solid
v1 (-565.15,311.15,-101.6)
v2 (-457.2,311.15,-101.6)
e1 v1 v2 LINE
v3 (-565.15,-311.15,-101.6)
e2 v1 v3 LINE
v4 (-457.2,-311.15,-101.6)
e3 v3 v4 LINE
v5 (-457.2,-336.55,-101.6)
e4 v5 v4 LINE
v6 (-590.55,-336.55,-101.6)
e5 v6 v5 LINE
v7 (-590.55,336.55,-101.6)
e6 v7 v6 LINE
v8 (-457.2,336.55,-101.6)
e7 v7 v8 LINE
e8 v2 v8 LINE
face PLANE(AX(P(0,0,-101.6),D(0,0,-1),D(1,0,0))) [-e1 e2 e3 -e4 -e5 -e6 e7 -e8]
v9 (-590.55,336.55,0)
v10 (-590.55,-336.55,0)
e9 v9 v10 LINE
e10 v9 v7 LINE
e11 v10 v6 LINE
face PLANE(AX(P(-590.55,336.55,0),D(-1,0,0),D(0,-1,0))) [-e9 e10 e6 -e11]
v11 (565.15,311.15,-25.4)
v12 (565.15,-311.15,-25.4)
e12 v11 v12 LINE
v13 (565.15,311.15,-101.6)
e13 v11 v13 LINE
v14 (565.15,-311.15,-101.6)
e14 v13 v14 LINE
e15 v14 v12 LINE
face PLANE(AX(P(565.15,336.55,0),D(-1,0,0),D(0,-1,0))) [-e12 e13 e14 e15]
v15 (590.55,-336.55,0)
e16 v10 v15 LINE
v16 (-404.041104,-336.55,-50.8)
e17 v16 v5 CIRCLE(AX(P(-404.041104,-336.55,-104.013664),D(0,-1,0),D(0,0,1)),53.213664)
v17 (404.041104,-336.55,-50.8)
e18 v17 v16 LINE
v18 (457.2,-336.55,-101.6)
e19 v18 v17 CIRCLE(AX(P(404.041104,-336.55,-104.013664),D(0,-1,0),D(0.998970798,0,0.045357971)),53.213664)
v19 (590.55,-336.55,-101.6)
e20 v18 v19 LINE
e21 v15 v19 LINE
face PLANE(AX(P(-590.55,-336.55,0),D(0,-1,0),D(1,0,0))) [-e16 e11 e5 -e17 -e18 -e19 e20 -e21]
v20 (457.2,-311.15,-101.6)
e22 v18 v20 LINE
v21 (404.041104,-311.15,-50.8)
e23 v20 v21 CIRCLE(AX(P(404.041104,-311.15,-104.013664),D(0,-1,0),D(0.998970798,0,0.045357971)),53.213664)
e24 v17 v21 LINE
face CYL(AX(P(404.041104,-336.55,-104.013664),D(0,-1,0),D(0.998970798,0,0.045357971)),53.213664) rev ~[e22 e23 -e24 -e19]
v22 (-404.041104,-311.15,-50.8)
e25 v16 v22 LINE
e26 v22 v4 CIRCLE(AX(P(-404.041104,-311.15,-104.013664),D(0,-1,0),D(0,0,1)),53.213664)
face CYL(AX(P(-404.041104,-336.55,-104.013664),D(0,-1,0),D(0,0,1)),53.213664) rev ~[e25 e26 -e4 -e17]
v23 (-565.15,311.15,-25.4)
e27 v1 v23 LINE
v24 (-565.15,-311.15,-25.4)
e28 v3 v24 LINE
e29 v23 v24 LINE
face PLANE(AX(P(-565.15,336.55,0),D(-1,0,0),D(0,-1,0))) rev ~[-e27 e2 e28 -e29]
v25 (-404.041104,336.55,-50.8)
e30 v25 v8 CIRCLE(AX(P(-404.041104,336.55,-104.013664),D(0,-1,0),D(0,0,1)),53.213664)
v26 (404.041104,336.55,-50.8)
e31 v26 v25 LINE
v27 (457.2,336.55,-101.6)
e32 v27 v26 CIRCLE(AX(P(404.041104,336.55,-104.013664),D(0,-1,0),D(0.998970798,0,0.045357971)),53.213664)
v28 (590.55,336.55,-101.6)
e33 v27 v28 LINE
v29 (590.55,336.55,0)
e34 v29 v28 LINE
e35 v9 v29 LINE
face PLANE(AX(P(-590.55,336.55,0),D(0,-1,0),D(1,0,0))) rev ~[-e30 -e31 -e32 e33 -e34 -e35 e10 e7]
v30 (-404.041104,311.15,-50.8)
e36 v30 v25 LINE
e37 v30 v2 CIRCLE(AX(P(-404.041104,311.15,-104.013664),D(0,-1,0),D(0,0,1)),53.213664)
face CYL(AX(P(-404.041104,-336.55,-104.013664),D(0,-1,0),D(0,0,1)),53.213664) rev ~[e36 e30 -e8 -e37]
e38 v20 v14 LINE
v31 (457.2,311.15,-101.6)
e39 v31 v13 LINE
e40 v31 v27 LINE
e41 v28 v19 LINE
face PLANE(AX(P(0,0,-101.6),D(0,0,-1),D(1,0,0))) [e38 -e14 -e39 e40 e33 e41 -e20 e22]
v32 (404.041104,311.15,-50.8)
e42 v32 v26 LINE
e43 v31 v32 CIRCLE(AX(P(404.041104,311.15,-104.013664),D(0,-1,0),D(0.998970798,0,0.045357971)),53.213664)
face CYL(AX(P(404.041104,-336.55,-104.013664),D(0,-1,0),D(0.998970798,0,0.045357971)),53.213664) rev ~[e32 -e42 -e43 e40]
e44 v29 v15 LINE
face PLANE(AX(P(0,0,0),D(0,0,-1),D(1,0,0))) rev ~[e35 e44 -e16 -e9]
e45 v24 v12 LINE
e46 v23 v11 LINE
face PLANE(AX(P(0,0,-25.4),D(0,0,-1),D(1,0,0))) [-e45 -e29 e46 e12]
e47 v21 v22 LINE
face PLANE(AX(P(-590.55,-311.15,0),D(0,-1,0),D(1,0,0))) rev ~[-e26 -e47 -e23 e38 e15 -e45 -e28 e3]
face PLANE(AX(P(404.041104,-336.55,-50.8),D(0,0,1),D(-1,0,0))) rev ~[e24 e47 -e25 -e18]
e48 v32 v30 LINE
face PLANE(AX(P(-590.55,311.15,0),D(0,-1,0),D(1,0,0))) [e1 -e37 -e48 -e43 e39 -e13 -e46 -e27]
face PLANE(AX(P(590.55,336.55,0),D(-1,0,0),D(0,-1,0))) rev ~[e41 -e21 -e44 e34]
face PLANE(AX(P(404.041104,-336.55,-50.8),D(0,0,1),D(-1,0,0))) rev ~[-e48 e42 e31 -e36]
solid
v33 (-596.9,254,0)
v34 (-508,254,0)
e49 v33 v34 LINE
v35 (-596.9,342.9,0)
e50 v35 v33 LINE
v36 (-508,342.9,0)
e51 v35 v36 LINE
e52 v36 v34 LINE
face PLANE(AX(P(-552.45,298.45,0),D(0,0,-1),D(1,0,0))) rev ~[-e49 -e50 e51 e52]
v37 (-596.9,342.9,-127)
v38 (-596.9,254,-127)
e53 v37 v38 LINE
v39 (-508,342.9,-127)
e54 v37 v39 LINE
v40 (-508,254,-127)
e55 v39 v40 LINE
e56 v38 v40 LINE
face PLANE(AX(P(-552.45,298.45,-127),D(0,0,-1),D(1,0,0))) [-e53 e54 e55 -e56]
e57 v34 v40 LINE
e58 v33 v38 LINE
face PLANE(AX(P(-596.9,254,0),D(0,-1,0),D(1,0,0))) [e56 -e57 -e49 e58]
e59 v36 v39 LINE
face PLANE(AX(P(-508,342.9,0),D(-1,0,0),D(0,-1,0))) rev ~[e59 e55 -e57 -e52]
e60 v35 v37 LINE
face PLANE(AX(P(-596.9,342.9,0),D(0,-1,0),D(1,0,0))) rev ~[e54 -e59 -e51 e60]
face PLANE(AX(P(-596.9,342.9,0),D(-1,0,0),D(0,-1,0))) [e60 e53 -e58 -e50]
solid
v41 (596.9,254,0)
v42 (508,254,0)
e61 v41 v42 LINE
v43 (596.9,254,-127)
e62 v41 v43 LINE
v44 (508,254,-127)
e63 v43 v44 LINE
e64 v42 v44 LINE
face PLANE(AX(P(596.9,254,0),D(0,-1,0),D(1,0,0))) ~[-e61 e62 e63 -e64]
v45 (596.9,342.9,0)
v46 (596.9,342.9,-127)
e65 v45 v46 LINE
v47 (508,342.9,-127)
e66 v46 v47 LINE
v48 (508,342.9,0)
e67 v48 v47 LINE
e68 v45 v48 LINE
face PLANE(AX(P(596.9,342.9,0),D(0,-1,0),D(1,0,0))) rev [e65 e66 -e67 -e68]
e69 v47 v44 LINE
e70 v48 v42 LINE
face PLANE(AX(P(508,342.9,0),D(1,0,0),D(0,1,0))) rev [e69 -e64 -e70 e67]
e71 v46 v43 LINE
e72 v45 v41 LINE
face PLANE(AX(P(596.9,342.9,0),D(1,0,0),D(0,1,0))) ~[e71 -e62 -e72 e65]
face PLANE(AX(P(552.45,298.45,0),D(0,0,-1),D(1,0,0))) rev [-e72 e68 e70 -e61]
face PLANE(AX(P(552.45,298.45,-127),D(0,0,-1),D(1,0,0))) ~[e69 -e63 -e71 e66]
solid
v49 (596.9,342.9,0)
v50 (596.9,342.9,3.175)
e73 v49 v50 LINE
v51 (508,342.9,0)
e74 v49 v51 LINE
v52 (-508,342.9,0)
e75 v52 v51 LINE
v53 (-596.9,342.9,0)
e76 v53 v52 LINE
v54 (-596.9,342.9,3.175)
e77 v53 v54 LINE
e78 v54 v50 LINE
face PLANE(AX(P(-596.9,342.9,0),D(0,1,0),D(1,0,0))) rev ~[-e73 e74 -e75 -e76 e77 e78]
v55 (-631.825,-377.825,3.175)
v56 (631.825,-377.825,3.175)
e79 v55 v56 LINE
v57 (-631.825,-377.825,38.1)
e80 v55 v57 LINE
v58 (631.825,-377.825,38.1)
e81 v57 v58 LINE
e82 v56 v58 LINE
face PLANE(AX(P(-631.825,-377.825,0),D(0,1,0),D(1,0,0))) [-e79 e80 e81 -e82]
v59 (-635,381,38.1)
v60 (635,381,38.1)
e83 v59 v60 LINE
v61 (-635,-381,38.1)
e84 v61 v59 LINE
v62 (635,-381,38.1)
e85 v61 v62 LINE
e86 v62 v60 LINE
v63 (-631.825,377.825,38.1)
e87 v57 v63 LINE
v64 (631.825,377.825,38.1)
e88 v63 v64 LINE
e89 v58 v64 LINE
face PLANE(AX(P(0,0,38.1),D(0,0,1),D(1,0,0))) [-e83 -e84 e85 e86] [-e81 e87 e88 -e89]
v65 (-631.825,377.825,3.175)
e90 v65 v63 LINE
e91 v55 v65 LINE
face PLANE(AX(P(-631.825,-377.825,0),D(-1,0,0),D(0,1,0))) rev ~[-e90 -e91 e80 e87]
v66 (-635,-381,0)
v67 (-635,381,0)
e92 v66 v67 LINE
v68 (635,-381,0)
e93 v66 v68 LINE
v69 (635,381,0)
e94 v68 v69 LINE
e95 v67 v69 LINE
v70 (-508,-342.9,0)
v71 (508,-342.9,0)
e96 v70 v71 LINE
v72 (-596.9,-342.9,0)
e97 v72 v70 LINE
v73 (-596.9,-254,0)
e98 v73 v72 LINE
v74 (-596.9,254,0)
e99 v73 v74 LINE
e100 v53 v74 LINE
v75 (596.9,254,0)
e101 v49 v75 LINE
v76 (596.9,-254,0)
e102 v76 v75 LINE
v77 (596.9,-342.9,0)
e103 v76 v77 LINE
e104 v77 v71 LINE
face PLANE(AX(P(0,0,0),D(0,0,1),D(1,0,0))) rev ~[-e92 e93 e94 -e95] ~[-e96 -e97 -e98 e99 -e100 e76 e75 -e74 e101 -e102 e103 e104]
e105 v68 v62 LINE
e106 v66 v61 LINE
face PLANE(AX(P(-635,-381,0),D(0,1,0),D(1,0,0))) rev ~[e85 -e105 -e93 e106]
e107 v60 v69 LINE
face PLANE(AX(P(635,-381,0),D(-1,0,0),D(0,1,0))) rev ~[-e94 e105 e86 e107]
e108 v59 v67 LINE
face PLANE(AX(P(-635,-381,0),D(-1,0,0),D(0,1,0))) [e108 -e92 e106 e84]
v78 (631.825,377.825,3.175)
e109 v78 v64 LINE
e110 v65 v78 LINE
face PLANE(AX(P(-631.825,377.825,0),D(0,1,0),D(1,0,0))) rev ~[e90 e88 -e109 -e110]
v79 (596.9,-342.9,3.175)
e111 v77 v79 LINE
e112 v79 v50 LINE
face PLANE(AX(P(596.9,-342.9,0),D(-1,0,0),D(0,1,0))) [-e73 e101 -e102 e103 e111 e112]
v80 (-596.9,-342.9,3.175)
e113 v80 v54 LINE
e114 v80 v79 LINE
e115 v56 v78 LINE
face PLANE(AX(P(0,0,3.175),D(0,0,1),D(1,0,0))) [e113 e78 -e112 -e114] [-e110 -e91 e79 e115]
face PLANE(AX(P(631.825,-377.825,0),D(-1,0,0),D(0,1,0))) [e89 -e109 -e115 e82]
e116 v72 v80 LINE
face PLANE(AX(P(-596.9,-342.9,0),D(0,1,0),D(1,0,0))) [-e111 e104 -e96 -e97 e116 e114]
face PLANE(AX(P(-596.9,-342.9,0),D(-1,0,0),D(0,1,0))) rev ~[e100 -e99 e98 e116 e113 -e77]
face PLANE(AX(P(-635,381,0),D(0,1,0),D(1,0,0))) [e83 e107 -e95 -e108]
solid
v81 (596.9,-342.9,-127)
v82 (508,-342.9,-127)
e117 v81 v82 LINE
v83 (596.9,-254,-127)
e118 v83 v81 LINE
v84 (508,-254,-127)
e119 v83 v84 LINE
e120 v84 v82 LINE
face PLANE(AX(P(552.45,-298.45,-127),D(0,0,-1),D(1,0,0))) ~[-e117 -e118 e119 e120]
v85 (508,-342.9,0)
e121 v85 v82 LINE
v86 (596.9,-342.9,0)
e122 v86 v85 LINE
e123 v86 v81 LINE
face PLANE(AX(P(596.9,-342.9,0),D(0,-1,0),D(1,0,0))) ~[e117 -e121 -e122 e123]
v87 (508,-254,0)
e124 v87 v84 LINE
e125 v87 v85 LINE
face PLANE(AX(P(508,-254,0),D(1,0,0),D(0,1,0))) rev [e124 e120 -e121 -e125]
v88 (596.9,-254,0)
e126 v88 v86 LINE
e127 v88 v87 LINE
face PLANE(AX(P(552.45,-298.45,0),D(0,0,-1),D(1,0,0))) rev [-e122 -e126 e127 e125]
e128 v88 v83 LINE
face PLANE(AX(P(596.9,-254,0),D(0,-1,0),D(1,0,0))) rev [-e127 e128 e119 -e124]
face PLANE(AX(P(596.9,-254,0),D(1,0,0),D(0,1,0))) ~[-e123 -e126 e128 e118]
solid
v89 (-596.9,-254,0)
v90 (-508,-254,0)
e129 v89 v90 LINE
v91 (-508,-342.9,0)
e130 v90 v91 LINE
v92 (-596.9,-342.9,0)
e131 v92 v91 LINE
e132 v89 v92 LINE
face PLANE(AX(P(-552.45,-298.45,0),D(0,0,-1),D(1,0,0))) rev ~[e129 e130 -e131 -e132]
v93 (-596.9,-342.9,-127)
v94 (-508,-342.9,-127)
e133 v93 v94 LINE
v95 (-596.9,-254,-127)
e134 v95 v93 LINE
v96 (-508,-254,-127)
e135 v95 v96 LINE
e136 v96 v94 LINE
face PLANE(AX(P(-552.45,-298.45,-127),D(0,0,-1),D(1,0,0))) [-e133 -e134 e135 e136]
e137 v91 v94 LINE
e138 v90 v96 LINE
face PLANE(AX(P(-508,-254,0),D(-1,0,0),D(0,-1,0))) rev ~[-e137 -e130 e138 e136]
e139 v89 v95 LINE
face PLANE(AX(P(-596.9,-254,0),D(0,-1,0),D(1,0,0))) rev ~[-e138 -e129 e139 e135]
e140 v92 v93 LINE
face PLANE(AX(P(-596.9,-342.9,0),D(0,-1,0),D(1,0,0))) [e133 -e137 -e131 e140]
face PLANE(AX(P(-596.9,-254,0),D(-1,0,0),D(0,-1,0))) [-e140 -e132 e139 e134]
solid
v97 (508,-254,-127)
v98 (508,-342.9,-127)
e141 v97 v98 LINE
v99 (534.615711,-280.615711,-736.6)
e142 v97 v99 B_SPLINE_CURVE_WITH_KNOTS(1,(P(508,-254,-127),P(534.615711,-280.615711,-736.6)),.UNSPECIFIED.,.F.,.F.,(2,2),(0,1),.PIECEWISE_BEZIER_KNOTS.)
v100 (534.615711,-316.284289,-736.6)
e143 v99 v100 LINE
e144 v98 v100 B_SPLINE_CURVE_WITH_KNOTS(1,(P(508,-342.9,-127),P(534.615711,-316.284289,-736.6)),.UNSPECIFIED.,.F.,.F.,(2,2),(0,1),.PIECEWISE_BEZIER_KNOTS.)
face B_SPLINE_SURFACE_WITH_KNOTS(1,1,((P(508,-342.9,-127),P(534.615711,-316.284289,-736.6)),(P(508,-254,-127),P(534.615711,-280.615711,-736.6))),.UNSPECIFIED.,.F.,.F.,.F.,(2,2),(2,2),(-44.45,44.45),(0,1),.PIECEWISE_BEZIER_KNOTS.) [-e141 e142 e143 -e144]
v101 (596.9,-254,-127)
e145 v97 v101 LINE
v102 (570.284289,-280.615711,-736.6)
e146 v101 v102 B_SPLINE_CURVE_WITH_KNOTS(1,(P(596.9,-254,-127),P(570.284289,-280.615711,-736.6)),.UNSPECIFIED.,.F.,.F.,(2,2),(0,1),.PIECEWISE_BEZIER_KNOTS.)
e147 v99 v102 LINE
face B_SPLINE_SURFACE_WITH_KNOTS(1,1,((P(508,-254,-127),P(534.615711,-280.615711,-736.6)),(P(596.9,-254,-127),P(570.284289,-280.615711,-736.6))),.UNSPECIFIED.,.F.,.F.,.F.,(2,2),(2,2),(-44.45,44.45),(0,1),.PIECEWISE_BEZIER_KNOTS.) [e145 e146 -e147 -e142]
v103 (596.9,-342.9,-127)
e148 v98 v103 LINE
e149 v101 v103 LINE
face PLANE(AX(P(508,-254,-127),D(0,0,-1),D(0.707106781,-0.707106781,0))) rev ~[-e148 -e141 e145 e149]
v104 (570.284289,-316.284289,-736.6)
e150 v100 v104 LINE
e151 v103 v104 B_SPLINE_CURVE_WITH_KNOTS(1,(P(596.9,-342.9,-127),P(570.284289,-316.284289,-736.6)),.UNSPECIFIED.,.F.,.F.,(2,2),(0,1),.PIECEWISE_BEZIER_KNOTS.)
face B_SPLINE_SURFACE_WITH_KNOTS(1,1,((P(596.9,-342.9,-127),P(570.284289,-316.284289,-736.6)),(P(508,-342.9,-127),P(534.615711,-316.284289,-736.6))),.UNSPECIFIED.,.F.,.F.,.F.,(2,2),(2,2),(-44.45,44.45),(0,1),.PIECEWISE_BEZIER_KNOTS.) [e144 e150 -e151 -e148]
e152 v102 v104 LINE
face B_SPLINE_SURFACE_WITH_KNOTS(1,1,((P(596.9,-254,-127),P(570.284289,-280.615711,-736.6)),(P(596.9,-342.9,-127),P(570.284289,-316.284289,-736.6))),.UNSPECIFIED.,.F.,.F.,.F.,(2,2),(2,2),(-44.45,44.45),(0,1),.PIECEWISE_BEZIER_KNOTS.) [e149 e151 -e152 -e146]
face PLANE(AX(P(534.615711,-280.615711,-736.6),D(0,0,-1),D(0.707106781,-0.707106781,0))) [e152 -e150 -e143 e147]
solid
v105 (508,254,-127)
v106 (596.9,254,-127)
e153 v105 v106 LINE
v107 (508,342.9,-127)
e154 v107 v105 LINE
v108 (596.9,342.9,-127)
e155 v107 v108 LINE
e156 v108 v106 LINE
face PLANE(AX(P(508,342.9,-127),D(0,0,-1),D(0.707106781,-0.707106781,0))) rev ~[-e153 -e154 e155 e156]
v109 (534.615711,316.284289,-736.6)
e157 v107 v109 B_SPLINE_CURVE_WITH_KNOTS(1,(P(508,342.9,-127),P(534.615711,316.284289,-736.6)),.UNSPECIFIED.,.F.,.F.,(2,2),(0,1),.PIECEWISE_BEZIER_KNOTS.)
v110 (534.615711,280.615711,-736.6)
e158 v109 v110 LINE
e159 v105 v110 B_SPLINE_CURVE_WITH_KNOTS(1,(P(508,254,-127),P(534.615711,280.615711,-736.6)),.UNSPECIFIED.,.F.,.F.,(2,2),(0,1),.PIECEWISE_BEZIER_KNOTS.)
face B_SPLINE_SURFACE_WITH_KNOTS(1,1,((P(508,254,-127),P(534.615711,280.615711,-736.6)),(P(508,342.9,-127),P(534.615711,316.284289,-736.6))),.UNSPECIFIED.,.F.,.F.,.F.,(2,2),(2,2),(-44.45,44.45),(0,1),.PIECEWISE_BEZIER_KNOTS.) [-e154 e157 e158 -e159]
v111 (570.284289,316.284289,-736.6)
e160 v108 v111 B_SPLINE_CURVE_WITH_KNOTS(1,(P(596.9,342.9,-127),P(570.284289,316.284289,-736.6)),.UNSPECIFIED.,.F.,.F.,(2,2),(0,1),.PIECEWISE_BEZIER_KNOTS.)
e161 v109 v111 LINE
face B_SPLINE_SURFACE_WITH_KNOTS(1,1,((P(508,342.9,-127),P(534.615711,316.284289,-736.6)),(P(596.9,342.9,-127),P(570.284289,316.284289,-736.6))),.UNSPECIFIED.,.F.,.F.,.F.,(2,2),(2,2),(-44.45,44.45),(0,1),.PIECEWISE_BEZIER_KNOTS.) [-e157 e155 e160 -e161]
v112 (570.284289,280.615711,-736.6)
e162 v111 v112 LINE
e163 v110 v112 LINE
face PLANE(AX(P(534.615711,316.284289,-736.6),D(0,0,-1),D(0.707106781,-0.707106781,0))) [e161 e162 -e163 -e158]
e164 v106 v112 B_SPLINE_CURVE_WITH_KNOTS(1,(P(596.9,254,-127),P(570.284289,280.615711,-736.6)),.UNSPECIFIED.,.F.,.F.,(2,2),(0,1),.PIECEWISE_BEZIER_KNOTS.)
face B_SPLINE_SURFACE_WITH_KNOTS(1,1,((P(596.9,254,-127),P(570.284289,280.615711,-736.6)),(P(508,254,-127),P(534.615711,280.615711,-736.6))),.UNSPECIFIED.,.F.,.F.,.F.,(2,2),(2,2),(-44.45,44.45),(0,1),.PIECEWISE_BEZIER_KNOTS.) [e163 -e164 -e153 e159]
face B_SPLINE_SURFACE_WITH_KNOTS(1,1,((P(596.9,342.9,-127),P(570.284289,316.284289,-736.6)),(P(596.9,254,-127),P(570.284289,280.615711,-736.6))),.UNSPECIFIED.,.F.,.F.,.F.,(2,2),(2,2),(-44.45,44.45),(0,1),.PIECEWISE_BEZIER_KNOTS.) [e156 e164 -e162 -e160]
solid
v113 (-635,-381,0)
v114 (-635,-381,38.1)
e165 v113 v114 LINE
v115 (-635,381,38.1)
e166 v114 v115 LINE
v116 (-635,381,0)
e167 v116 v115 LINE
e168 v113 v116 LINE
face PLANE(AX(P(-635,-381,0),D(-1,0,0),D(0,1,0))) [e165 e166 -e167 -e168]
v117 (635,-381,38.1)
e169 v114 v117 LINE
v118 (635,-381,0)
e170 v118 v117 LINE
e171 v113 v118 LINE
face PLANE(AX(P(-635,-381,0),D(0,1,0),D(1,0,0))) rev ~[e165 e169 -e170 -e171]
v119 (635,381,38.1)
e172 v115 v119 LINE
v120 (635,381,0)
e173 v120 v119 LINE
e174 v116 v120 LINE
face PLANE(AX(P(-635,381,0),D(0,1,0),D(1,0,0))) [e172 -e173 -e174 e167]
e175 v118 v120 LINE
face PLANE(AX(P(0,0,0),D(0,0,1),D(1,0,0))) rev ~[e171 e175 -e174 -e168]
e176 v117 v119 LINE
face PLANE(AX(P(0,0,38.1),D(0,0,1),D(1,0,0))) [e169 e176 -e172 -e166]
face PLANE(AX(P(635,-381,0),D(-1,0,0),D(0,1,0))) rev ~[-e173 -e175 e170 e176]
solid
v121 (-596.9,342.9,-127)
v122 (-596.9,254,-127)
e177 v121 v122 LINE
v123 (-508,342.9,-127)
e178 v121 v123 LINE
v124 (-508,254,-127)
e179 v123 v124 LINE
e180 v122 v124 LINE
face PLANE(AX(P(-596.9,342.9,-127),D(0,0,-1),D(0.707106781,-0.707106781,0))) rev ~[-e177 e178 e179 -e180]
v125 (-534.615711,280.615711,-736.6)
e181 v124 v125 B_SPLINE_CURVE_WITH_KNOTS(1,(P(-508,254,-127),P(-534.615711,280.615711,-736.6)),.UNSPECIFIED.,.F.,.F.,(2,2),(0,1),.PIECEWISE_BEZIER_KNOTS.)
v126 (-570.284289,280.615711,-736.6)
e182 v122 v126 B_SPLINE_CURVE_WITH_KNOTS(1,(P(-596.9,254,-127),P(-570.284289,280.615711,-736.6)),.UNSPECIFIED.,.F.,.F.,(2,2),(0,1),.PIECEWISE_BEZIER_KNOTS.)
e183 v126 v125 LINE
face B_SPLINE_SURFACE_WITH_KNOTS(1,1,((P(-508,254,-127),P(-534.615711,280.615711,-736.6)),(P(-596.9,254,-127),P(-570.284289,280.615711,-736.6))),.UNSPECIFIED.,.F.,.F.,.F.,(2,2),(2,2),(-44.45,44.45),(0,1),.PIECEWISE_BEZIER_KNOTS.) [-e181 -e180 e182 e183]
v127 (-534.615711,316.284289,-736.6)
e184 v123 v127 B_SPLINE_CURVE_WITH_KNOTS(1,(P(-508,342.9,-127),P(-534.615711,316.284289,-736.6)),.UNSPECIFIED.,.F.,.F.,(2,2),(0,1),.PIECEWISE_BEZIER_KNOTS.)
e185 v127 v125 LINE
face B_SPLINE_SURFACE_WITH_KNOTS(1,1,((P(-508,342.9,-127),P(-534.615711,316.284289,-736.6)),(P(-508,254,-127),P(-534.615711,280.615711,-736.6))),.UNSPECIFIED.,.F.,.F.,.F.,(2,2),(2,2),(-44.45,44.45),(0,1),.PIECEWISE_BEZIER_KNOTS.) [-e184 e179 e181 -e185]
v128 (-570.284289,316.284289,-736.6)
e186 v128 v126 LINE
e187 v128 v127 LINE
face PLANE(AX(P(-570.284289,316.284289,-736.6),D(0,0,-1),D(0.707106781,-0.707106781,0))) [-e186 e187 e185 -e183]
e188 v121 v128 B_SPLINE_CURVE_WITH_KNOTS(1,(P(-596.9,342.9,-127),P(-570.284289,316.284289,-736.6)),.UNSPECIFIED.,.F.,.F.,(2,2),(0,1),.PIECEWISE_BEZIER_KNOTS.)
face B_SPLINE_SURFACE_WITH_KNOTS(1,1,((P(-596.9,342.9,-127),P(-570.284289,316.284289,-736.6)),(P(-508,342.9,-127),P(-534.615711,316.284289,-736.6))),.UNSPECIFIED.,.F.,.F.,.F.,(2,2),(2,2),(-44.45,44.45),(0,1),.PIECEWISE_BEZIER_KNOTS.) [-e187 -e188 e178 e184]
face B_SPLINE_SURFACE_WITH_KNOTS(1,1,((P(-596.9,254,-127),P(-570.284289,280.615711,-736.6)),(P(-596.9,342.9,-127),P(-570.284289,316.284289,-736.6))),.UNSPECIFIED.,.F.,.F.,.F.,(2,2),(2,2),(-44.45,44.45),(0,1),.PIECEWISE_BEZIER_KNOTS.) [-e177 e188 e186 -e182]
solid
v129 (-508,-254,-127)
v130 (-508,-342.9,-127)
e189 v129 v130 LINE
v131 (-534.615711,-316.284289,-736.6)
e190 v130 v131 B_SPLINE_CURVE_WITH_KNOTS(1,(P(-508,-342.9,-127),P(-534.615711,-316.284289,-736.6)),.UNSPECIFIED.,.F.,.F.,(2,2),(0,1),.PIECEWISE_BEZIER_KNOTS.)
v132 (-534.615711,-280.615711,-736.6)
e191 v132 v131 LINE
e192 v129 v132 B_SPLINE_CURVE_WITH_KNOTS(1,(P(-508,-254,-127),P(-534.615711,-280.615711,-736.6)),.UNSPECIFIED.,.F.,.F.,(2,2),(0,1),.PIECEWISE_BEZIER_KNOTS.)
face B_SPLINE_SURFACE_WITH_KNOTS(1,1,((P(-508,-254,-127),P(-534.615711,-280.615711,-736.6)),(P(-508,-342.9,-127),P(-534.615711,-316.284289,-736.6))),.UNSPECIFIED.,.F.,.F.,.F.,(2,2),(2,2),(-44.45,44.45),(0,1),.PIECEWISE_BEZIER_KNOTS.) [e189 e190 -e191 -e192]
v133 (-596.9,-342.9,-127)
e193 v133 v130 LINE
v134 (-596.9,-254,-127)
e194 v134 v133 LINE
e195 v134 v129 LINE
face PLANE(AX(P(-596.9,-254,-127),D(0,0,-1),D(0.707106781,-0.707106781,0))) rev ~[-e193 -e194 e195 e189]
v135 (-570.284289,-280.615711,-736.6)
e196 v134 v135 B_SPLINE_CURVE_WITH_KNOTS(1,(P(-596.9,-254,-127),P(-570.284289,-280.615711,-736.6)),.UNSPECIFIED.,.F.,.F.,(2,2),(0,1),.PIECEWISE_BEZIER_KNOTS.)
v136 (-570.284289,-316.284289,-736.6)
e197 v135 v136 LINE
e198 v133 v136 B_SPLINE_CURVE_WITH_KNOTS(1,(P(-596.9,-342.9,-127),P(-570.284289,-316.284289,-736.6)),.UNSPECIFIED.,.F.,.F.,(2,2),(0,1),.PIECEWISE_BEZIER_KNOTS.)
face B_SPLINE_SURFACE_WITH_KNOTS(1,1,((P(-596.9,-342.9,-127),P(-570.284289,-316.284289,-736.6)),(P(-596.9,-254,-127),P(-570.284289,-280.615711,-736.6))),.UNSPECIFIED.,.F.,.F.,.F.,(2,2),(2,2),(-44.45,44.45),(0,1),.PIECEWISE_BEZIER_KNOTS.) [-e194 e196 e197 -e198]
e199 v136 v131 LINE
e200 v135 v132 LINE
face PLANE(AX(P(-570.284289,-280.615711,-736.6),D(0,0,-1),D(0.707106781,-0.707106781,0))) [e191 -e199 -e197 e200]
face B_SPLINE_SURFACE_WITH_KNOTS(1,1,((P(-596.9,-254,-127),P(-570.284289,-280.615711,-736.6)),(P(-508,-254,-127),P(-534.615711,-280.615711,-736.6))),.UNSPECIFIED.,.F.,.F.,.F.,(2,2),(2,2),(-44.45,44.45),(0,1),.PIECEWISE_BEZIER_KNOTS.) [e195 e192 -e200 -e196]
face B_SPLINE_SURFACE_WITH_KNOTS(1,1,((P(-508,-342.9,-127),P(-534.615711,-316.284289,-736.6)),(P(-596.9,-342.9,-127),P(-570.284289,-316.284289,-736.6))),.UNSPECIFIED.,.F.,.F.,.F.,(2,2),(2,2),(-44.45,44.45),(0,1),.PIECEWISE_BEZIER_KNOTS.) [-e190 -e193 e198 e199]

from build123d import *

# Parameters (mm, degrees)
F0_W      = 1270
F0_H      = 762
F0_W_2    = 1263.65
F0_H_2    = 755.65
F1_DEPTH  = 38.1
F3_W      = 88.9
F3_H      = 88.9
F4_DEPTH  = 127
F6_W      = 1181.1
F6_H      = 673.1
F7_DEPTH  = 101.6
F8_T      = -25.4
F9_W      = 1270
F9_H      = 762
F9_W_2    = 1193.8
F9_H_2    = 685.8
F10_DEPTH = 3.175
F11_W     = 1270
F11_H     = 762
F12_DEPTH = 38.1
F13_W     = 88.9
F13_H     = 88.9
F14_DEPTH = 609.6
F14_TAPER = 2.5
F15_W     = 914.4
F15_H     = 89.9768384933
F16_DEPTH = 1219.2


with BuildPart() as f1:
    # F0 (on Top) → F1 (new body)
    with BuildSketch(Plane.XY):
        Rectangle(F0_W, F0_H)
        Rectangle(F0_W_2, F0_H_2, mode=Mode.SUBTRACT)
    extrude(amount=F1_DEPTH)



with BuildPart() as f4:
    # F3 (on face) → F4 (new body)
    with BuildSketch(Plane(origin=(0, 0, 0), x_dir=(1, 0, 0), z_dir=(0, 0, -1))):
        with Locations((-552.45, 298.45)):
            Rectangle(F3_W, F3_H)
    extrude(amount=F4_DEPTH)


with BuildPart() as f4b:
    # F3 (on face) → F4, piece 2 (new body)
    with BuildSketch(Plane(origin=(0, 0, 0), x_dir=(1, 0, 0), z_dir=(0, 0, -1))):
        with Locations((-552.45, -298.45)):
            Rectangle(F3_W, F3_H)
    extrude(amount=F4_DEPTH)


with BuildPart() as f5_1:
    # F5: instance of F4
    add(f4.part.mirror(Plane.YZ))


with BuildPart() as f5_2:
    # F5: instance of F4b
    add(f4b.part.mirror(Plane.YZ))


with BuildPart() as f7:
    # F6 (on face) → F7 (new body)
    with BuildSketch(Plane(origin=(0, 0, 0), x_dir=(1, 0, 0), z_dir=(0, 0, -1))):
        Rectangle(F6_W, F6_H)
    extrude(amount=F7_DEPTH)

    # F8
    f8_openings = [f7.faces().sort_by_distance(p)[0] for p in [
        (0, 0, -101.6),
    ]]
    offset(amount=F8_T, openings=f8_openings)

    # F15 (on face) → F16 (cut)
    with BuildSketch(Plane.XZ.offset(336.55)):
        with BuildLine():
            Line((404.0411037901, -50.8), (-404.0411037901, -50.8))
            ThreePointArc((-404.0411037901, -50.8), (-440.8055847679, -65.5420254846), (-457.2, -101.6))
            Line((-457.2, -101.6), (457.2, -101.6))
            ThreePointArc((457.2, -101.6), (440.8055847679, -65.5420254846), (404.0411037901, -50.8))
        make_face()
        with Locations((0, -146.5884192467)):
            Rectangle(F15_W, F15_H)
    extrude(amount=-F16_DEPTH, mode=Mode.SUBTRACT)


with BuildPart() as f1_1:
    add(f1.part)

    add(f4.part)  # F10 merges F4

    add(f4b.part)  # F10 merges F4b

    add(f5_1.part)  # F10 merges F5_1

    add(f5_2.part)  # F10 merges F5_2
    # F9 (on Top) → F10 (join)
    with BuildSketch(Plane.XY):
        Rectangle(F9_W, F9_H)
        Rectangle(F9_W_2, F9_H_2, mode=Mode.SUBTRACT)
    extrude(amount=F10_DEPTH)


with BuildPart() as f12:
    # F11 (on Top) → F12 (new body)
    with BuildSketch(Plane.XY):
        Rectangle(F11_W, F11_H)
    extrude(amount=F12_DEPTH)


with BuildPart() as f14:
    # F13 (on face) → F14 (new body)
    with BuildSketch(Plane(origin=(0, 0, -127), x_dir=(1, 0, 0), z_dir=(0, 0, -1))):
        with Locations((-552.45, 298.45)):
            Rectangle(F13_W, F13_H)
    extrude(amount=F14_DEPTH, taper=F14_TAPER)


with BuildPart() as f14b:
    # F13 (on face) → F14, piece 2 (new body)
    with BuildSketch(Plane(origin=(0, 0, -127), x_dir=(1, 0, 0), z_dir=(0, 0, -1))):
        with Locations((552.45, 298.45)):
            Rectangle(F13_W, F13_H)
    extrude(amount=F14_DEPTH, taper=F14_TAPER)


with BuildPart() as f14c:
    # F13 (on face) → F14, piece 3 (new body)
    with BuildSketch(Plane(origin=(0, 0, -127), x_dir=(1, 0, 0), z_dir=(0, 0, -1))):
        with Locations((552.45, -298.45)):
            Rectangle(F13_W, F13_H)
    extrude(amount=F14_DEPTH, taper=F14_TAPER)


with BuildPart() as f14d:
    # F13 (on face) → F14, piece 4 (new body)
    with BuildSketch(Plane(origin=(0, 0, -127), x_dir=(1, 0, 0), z_dir=(0, 0, -1))):
        with Locations((-552.45, -298.45)):
            Rectangle(F13_W, F13_H)
    extrude(amount=F14_DEPTH, taper=F14_TAPER)


solid = Compound([f7.part, f1_1.part, f12.part, f14.part, f14b.part, f14c.part, f14d.part])
